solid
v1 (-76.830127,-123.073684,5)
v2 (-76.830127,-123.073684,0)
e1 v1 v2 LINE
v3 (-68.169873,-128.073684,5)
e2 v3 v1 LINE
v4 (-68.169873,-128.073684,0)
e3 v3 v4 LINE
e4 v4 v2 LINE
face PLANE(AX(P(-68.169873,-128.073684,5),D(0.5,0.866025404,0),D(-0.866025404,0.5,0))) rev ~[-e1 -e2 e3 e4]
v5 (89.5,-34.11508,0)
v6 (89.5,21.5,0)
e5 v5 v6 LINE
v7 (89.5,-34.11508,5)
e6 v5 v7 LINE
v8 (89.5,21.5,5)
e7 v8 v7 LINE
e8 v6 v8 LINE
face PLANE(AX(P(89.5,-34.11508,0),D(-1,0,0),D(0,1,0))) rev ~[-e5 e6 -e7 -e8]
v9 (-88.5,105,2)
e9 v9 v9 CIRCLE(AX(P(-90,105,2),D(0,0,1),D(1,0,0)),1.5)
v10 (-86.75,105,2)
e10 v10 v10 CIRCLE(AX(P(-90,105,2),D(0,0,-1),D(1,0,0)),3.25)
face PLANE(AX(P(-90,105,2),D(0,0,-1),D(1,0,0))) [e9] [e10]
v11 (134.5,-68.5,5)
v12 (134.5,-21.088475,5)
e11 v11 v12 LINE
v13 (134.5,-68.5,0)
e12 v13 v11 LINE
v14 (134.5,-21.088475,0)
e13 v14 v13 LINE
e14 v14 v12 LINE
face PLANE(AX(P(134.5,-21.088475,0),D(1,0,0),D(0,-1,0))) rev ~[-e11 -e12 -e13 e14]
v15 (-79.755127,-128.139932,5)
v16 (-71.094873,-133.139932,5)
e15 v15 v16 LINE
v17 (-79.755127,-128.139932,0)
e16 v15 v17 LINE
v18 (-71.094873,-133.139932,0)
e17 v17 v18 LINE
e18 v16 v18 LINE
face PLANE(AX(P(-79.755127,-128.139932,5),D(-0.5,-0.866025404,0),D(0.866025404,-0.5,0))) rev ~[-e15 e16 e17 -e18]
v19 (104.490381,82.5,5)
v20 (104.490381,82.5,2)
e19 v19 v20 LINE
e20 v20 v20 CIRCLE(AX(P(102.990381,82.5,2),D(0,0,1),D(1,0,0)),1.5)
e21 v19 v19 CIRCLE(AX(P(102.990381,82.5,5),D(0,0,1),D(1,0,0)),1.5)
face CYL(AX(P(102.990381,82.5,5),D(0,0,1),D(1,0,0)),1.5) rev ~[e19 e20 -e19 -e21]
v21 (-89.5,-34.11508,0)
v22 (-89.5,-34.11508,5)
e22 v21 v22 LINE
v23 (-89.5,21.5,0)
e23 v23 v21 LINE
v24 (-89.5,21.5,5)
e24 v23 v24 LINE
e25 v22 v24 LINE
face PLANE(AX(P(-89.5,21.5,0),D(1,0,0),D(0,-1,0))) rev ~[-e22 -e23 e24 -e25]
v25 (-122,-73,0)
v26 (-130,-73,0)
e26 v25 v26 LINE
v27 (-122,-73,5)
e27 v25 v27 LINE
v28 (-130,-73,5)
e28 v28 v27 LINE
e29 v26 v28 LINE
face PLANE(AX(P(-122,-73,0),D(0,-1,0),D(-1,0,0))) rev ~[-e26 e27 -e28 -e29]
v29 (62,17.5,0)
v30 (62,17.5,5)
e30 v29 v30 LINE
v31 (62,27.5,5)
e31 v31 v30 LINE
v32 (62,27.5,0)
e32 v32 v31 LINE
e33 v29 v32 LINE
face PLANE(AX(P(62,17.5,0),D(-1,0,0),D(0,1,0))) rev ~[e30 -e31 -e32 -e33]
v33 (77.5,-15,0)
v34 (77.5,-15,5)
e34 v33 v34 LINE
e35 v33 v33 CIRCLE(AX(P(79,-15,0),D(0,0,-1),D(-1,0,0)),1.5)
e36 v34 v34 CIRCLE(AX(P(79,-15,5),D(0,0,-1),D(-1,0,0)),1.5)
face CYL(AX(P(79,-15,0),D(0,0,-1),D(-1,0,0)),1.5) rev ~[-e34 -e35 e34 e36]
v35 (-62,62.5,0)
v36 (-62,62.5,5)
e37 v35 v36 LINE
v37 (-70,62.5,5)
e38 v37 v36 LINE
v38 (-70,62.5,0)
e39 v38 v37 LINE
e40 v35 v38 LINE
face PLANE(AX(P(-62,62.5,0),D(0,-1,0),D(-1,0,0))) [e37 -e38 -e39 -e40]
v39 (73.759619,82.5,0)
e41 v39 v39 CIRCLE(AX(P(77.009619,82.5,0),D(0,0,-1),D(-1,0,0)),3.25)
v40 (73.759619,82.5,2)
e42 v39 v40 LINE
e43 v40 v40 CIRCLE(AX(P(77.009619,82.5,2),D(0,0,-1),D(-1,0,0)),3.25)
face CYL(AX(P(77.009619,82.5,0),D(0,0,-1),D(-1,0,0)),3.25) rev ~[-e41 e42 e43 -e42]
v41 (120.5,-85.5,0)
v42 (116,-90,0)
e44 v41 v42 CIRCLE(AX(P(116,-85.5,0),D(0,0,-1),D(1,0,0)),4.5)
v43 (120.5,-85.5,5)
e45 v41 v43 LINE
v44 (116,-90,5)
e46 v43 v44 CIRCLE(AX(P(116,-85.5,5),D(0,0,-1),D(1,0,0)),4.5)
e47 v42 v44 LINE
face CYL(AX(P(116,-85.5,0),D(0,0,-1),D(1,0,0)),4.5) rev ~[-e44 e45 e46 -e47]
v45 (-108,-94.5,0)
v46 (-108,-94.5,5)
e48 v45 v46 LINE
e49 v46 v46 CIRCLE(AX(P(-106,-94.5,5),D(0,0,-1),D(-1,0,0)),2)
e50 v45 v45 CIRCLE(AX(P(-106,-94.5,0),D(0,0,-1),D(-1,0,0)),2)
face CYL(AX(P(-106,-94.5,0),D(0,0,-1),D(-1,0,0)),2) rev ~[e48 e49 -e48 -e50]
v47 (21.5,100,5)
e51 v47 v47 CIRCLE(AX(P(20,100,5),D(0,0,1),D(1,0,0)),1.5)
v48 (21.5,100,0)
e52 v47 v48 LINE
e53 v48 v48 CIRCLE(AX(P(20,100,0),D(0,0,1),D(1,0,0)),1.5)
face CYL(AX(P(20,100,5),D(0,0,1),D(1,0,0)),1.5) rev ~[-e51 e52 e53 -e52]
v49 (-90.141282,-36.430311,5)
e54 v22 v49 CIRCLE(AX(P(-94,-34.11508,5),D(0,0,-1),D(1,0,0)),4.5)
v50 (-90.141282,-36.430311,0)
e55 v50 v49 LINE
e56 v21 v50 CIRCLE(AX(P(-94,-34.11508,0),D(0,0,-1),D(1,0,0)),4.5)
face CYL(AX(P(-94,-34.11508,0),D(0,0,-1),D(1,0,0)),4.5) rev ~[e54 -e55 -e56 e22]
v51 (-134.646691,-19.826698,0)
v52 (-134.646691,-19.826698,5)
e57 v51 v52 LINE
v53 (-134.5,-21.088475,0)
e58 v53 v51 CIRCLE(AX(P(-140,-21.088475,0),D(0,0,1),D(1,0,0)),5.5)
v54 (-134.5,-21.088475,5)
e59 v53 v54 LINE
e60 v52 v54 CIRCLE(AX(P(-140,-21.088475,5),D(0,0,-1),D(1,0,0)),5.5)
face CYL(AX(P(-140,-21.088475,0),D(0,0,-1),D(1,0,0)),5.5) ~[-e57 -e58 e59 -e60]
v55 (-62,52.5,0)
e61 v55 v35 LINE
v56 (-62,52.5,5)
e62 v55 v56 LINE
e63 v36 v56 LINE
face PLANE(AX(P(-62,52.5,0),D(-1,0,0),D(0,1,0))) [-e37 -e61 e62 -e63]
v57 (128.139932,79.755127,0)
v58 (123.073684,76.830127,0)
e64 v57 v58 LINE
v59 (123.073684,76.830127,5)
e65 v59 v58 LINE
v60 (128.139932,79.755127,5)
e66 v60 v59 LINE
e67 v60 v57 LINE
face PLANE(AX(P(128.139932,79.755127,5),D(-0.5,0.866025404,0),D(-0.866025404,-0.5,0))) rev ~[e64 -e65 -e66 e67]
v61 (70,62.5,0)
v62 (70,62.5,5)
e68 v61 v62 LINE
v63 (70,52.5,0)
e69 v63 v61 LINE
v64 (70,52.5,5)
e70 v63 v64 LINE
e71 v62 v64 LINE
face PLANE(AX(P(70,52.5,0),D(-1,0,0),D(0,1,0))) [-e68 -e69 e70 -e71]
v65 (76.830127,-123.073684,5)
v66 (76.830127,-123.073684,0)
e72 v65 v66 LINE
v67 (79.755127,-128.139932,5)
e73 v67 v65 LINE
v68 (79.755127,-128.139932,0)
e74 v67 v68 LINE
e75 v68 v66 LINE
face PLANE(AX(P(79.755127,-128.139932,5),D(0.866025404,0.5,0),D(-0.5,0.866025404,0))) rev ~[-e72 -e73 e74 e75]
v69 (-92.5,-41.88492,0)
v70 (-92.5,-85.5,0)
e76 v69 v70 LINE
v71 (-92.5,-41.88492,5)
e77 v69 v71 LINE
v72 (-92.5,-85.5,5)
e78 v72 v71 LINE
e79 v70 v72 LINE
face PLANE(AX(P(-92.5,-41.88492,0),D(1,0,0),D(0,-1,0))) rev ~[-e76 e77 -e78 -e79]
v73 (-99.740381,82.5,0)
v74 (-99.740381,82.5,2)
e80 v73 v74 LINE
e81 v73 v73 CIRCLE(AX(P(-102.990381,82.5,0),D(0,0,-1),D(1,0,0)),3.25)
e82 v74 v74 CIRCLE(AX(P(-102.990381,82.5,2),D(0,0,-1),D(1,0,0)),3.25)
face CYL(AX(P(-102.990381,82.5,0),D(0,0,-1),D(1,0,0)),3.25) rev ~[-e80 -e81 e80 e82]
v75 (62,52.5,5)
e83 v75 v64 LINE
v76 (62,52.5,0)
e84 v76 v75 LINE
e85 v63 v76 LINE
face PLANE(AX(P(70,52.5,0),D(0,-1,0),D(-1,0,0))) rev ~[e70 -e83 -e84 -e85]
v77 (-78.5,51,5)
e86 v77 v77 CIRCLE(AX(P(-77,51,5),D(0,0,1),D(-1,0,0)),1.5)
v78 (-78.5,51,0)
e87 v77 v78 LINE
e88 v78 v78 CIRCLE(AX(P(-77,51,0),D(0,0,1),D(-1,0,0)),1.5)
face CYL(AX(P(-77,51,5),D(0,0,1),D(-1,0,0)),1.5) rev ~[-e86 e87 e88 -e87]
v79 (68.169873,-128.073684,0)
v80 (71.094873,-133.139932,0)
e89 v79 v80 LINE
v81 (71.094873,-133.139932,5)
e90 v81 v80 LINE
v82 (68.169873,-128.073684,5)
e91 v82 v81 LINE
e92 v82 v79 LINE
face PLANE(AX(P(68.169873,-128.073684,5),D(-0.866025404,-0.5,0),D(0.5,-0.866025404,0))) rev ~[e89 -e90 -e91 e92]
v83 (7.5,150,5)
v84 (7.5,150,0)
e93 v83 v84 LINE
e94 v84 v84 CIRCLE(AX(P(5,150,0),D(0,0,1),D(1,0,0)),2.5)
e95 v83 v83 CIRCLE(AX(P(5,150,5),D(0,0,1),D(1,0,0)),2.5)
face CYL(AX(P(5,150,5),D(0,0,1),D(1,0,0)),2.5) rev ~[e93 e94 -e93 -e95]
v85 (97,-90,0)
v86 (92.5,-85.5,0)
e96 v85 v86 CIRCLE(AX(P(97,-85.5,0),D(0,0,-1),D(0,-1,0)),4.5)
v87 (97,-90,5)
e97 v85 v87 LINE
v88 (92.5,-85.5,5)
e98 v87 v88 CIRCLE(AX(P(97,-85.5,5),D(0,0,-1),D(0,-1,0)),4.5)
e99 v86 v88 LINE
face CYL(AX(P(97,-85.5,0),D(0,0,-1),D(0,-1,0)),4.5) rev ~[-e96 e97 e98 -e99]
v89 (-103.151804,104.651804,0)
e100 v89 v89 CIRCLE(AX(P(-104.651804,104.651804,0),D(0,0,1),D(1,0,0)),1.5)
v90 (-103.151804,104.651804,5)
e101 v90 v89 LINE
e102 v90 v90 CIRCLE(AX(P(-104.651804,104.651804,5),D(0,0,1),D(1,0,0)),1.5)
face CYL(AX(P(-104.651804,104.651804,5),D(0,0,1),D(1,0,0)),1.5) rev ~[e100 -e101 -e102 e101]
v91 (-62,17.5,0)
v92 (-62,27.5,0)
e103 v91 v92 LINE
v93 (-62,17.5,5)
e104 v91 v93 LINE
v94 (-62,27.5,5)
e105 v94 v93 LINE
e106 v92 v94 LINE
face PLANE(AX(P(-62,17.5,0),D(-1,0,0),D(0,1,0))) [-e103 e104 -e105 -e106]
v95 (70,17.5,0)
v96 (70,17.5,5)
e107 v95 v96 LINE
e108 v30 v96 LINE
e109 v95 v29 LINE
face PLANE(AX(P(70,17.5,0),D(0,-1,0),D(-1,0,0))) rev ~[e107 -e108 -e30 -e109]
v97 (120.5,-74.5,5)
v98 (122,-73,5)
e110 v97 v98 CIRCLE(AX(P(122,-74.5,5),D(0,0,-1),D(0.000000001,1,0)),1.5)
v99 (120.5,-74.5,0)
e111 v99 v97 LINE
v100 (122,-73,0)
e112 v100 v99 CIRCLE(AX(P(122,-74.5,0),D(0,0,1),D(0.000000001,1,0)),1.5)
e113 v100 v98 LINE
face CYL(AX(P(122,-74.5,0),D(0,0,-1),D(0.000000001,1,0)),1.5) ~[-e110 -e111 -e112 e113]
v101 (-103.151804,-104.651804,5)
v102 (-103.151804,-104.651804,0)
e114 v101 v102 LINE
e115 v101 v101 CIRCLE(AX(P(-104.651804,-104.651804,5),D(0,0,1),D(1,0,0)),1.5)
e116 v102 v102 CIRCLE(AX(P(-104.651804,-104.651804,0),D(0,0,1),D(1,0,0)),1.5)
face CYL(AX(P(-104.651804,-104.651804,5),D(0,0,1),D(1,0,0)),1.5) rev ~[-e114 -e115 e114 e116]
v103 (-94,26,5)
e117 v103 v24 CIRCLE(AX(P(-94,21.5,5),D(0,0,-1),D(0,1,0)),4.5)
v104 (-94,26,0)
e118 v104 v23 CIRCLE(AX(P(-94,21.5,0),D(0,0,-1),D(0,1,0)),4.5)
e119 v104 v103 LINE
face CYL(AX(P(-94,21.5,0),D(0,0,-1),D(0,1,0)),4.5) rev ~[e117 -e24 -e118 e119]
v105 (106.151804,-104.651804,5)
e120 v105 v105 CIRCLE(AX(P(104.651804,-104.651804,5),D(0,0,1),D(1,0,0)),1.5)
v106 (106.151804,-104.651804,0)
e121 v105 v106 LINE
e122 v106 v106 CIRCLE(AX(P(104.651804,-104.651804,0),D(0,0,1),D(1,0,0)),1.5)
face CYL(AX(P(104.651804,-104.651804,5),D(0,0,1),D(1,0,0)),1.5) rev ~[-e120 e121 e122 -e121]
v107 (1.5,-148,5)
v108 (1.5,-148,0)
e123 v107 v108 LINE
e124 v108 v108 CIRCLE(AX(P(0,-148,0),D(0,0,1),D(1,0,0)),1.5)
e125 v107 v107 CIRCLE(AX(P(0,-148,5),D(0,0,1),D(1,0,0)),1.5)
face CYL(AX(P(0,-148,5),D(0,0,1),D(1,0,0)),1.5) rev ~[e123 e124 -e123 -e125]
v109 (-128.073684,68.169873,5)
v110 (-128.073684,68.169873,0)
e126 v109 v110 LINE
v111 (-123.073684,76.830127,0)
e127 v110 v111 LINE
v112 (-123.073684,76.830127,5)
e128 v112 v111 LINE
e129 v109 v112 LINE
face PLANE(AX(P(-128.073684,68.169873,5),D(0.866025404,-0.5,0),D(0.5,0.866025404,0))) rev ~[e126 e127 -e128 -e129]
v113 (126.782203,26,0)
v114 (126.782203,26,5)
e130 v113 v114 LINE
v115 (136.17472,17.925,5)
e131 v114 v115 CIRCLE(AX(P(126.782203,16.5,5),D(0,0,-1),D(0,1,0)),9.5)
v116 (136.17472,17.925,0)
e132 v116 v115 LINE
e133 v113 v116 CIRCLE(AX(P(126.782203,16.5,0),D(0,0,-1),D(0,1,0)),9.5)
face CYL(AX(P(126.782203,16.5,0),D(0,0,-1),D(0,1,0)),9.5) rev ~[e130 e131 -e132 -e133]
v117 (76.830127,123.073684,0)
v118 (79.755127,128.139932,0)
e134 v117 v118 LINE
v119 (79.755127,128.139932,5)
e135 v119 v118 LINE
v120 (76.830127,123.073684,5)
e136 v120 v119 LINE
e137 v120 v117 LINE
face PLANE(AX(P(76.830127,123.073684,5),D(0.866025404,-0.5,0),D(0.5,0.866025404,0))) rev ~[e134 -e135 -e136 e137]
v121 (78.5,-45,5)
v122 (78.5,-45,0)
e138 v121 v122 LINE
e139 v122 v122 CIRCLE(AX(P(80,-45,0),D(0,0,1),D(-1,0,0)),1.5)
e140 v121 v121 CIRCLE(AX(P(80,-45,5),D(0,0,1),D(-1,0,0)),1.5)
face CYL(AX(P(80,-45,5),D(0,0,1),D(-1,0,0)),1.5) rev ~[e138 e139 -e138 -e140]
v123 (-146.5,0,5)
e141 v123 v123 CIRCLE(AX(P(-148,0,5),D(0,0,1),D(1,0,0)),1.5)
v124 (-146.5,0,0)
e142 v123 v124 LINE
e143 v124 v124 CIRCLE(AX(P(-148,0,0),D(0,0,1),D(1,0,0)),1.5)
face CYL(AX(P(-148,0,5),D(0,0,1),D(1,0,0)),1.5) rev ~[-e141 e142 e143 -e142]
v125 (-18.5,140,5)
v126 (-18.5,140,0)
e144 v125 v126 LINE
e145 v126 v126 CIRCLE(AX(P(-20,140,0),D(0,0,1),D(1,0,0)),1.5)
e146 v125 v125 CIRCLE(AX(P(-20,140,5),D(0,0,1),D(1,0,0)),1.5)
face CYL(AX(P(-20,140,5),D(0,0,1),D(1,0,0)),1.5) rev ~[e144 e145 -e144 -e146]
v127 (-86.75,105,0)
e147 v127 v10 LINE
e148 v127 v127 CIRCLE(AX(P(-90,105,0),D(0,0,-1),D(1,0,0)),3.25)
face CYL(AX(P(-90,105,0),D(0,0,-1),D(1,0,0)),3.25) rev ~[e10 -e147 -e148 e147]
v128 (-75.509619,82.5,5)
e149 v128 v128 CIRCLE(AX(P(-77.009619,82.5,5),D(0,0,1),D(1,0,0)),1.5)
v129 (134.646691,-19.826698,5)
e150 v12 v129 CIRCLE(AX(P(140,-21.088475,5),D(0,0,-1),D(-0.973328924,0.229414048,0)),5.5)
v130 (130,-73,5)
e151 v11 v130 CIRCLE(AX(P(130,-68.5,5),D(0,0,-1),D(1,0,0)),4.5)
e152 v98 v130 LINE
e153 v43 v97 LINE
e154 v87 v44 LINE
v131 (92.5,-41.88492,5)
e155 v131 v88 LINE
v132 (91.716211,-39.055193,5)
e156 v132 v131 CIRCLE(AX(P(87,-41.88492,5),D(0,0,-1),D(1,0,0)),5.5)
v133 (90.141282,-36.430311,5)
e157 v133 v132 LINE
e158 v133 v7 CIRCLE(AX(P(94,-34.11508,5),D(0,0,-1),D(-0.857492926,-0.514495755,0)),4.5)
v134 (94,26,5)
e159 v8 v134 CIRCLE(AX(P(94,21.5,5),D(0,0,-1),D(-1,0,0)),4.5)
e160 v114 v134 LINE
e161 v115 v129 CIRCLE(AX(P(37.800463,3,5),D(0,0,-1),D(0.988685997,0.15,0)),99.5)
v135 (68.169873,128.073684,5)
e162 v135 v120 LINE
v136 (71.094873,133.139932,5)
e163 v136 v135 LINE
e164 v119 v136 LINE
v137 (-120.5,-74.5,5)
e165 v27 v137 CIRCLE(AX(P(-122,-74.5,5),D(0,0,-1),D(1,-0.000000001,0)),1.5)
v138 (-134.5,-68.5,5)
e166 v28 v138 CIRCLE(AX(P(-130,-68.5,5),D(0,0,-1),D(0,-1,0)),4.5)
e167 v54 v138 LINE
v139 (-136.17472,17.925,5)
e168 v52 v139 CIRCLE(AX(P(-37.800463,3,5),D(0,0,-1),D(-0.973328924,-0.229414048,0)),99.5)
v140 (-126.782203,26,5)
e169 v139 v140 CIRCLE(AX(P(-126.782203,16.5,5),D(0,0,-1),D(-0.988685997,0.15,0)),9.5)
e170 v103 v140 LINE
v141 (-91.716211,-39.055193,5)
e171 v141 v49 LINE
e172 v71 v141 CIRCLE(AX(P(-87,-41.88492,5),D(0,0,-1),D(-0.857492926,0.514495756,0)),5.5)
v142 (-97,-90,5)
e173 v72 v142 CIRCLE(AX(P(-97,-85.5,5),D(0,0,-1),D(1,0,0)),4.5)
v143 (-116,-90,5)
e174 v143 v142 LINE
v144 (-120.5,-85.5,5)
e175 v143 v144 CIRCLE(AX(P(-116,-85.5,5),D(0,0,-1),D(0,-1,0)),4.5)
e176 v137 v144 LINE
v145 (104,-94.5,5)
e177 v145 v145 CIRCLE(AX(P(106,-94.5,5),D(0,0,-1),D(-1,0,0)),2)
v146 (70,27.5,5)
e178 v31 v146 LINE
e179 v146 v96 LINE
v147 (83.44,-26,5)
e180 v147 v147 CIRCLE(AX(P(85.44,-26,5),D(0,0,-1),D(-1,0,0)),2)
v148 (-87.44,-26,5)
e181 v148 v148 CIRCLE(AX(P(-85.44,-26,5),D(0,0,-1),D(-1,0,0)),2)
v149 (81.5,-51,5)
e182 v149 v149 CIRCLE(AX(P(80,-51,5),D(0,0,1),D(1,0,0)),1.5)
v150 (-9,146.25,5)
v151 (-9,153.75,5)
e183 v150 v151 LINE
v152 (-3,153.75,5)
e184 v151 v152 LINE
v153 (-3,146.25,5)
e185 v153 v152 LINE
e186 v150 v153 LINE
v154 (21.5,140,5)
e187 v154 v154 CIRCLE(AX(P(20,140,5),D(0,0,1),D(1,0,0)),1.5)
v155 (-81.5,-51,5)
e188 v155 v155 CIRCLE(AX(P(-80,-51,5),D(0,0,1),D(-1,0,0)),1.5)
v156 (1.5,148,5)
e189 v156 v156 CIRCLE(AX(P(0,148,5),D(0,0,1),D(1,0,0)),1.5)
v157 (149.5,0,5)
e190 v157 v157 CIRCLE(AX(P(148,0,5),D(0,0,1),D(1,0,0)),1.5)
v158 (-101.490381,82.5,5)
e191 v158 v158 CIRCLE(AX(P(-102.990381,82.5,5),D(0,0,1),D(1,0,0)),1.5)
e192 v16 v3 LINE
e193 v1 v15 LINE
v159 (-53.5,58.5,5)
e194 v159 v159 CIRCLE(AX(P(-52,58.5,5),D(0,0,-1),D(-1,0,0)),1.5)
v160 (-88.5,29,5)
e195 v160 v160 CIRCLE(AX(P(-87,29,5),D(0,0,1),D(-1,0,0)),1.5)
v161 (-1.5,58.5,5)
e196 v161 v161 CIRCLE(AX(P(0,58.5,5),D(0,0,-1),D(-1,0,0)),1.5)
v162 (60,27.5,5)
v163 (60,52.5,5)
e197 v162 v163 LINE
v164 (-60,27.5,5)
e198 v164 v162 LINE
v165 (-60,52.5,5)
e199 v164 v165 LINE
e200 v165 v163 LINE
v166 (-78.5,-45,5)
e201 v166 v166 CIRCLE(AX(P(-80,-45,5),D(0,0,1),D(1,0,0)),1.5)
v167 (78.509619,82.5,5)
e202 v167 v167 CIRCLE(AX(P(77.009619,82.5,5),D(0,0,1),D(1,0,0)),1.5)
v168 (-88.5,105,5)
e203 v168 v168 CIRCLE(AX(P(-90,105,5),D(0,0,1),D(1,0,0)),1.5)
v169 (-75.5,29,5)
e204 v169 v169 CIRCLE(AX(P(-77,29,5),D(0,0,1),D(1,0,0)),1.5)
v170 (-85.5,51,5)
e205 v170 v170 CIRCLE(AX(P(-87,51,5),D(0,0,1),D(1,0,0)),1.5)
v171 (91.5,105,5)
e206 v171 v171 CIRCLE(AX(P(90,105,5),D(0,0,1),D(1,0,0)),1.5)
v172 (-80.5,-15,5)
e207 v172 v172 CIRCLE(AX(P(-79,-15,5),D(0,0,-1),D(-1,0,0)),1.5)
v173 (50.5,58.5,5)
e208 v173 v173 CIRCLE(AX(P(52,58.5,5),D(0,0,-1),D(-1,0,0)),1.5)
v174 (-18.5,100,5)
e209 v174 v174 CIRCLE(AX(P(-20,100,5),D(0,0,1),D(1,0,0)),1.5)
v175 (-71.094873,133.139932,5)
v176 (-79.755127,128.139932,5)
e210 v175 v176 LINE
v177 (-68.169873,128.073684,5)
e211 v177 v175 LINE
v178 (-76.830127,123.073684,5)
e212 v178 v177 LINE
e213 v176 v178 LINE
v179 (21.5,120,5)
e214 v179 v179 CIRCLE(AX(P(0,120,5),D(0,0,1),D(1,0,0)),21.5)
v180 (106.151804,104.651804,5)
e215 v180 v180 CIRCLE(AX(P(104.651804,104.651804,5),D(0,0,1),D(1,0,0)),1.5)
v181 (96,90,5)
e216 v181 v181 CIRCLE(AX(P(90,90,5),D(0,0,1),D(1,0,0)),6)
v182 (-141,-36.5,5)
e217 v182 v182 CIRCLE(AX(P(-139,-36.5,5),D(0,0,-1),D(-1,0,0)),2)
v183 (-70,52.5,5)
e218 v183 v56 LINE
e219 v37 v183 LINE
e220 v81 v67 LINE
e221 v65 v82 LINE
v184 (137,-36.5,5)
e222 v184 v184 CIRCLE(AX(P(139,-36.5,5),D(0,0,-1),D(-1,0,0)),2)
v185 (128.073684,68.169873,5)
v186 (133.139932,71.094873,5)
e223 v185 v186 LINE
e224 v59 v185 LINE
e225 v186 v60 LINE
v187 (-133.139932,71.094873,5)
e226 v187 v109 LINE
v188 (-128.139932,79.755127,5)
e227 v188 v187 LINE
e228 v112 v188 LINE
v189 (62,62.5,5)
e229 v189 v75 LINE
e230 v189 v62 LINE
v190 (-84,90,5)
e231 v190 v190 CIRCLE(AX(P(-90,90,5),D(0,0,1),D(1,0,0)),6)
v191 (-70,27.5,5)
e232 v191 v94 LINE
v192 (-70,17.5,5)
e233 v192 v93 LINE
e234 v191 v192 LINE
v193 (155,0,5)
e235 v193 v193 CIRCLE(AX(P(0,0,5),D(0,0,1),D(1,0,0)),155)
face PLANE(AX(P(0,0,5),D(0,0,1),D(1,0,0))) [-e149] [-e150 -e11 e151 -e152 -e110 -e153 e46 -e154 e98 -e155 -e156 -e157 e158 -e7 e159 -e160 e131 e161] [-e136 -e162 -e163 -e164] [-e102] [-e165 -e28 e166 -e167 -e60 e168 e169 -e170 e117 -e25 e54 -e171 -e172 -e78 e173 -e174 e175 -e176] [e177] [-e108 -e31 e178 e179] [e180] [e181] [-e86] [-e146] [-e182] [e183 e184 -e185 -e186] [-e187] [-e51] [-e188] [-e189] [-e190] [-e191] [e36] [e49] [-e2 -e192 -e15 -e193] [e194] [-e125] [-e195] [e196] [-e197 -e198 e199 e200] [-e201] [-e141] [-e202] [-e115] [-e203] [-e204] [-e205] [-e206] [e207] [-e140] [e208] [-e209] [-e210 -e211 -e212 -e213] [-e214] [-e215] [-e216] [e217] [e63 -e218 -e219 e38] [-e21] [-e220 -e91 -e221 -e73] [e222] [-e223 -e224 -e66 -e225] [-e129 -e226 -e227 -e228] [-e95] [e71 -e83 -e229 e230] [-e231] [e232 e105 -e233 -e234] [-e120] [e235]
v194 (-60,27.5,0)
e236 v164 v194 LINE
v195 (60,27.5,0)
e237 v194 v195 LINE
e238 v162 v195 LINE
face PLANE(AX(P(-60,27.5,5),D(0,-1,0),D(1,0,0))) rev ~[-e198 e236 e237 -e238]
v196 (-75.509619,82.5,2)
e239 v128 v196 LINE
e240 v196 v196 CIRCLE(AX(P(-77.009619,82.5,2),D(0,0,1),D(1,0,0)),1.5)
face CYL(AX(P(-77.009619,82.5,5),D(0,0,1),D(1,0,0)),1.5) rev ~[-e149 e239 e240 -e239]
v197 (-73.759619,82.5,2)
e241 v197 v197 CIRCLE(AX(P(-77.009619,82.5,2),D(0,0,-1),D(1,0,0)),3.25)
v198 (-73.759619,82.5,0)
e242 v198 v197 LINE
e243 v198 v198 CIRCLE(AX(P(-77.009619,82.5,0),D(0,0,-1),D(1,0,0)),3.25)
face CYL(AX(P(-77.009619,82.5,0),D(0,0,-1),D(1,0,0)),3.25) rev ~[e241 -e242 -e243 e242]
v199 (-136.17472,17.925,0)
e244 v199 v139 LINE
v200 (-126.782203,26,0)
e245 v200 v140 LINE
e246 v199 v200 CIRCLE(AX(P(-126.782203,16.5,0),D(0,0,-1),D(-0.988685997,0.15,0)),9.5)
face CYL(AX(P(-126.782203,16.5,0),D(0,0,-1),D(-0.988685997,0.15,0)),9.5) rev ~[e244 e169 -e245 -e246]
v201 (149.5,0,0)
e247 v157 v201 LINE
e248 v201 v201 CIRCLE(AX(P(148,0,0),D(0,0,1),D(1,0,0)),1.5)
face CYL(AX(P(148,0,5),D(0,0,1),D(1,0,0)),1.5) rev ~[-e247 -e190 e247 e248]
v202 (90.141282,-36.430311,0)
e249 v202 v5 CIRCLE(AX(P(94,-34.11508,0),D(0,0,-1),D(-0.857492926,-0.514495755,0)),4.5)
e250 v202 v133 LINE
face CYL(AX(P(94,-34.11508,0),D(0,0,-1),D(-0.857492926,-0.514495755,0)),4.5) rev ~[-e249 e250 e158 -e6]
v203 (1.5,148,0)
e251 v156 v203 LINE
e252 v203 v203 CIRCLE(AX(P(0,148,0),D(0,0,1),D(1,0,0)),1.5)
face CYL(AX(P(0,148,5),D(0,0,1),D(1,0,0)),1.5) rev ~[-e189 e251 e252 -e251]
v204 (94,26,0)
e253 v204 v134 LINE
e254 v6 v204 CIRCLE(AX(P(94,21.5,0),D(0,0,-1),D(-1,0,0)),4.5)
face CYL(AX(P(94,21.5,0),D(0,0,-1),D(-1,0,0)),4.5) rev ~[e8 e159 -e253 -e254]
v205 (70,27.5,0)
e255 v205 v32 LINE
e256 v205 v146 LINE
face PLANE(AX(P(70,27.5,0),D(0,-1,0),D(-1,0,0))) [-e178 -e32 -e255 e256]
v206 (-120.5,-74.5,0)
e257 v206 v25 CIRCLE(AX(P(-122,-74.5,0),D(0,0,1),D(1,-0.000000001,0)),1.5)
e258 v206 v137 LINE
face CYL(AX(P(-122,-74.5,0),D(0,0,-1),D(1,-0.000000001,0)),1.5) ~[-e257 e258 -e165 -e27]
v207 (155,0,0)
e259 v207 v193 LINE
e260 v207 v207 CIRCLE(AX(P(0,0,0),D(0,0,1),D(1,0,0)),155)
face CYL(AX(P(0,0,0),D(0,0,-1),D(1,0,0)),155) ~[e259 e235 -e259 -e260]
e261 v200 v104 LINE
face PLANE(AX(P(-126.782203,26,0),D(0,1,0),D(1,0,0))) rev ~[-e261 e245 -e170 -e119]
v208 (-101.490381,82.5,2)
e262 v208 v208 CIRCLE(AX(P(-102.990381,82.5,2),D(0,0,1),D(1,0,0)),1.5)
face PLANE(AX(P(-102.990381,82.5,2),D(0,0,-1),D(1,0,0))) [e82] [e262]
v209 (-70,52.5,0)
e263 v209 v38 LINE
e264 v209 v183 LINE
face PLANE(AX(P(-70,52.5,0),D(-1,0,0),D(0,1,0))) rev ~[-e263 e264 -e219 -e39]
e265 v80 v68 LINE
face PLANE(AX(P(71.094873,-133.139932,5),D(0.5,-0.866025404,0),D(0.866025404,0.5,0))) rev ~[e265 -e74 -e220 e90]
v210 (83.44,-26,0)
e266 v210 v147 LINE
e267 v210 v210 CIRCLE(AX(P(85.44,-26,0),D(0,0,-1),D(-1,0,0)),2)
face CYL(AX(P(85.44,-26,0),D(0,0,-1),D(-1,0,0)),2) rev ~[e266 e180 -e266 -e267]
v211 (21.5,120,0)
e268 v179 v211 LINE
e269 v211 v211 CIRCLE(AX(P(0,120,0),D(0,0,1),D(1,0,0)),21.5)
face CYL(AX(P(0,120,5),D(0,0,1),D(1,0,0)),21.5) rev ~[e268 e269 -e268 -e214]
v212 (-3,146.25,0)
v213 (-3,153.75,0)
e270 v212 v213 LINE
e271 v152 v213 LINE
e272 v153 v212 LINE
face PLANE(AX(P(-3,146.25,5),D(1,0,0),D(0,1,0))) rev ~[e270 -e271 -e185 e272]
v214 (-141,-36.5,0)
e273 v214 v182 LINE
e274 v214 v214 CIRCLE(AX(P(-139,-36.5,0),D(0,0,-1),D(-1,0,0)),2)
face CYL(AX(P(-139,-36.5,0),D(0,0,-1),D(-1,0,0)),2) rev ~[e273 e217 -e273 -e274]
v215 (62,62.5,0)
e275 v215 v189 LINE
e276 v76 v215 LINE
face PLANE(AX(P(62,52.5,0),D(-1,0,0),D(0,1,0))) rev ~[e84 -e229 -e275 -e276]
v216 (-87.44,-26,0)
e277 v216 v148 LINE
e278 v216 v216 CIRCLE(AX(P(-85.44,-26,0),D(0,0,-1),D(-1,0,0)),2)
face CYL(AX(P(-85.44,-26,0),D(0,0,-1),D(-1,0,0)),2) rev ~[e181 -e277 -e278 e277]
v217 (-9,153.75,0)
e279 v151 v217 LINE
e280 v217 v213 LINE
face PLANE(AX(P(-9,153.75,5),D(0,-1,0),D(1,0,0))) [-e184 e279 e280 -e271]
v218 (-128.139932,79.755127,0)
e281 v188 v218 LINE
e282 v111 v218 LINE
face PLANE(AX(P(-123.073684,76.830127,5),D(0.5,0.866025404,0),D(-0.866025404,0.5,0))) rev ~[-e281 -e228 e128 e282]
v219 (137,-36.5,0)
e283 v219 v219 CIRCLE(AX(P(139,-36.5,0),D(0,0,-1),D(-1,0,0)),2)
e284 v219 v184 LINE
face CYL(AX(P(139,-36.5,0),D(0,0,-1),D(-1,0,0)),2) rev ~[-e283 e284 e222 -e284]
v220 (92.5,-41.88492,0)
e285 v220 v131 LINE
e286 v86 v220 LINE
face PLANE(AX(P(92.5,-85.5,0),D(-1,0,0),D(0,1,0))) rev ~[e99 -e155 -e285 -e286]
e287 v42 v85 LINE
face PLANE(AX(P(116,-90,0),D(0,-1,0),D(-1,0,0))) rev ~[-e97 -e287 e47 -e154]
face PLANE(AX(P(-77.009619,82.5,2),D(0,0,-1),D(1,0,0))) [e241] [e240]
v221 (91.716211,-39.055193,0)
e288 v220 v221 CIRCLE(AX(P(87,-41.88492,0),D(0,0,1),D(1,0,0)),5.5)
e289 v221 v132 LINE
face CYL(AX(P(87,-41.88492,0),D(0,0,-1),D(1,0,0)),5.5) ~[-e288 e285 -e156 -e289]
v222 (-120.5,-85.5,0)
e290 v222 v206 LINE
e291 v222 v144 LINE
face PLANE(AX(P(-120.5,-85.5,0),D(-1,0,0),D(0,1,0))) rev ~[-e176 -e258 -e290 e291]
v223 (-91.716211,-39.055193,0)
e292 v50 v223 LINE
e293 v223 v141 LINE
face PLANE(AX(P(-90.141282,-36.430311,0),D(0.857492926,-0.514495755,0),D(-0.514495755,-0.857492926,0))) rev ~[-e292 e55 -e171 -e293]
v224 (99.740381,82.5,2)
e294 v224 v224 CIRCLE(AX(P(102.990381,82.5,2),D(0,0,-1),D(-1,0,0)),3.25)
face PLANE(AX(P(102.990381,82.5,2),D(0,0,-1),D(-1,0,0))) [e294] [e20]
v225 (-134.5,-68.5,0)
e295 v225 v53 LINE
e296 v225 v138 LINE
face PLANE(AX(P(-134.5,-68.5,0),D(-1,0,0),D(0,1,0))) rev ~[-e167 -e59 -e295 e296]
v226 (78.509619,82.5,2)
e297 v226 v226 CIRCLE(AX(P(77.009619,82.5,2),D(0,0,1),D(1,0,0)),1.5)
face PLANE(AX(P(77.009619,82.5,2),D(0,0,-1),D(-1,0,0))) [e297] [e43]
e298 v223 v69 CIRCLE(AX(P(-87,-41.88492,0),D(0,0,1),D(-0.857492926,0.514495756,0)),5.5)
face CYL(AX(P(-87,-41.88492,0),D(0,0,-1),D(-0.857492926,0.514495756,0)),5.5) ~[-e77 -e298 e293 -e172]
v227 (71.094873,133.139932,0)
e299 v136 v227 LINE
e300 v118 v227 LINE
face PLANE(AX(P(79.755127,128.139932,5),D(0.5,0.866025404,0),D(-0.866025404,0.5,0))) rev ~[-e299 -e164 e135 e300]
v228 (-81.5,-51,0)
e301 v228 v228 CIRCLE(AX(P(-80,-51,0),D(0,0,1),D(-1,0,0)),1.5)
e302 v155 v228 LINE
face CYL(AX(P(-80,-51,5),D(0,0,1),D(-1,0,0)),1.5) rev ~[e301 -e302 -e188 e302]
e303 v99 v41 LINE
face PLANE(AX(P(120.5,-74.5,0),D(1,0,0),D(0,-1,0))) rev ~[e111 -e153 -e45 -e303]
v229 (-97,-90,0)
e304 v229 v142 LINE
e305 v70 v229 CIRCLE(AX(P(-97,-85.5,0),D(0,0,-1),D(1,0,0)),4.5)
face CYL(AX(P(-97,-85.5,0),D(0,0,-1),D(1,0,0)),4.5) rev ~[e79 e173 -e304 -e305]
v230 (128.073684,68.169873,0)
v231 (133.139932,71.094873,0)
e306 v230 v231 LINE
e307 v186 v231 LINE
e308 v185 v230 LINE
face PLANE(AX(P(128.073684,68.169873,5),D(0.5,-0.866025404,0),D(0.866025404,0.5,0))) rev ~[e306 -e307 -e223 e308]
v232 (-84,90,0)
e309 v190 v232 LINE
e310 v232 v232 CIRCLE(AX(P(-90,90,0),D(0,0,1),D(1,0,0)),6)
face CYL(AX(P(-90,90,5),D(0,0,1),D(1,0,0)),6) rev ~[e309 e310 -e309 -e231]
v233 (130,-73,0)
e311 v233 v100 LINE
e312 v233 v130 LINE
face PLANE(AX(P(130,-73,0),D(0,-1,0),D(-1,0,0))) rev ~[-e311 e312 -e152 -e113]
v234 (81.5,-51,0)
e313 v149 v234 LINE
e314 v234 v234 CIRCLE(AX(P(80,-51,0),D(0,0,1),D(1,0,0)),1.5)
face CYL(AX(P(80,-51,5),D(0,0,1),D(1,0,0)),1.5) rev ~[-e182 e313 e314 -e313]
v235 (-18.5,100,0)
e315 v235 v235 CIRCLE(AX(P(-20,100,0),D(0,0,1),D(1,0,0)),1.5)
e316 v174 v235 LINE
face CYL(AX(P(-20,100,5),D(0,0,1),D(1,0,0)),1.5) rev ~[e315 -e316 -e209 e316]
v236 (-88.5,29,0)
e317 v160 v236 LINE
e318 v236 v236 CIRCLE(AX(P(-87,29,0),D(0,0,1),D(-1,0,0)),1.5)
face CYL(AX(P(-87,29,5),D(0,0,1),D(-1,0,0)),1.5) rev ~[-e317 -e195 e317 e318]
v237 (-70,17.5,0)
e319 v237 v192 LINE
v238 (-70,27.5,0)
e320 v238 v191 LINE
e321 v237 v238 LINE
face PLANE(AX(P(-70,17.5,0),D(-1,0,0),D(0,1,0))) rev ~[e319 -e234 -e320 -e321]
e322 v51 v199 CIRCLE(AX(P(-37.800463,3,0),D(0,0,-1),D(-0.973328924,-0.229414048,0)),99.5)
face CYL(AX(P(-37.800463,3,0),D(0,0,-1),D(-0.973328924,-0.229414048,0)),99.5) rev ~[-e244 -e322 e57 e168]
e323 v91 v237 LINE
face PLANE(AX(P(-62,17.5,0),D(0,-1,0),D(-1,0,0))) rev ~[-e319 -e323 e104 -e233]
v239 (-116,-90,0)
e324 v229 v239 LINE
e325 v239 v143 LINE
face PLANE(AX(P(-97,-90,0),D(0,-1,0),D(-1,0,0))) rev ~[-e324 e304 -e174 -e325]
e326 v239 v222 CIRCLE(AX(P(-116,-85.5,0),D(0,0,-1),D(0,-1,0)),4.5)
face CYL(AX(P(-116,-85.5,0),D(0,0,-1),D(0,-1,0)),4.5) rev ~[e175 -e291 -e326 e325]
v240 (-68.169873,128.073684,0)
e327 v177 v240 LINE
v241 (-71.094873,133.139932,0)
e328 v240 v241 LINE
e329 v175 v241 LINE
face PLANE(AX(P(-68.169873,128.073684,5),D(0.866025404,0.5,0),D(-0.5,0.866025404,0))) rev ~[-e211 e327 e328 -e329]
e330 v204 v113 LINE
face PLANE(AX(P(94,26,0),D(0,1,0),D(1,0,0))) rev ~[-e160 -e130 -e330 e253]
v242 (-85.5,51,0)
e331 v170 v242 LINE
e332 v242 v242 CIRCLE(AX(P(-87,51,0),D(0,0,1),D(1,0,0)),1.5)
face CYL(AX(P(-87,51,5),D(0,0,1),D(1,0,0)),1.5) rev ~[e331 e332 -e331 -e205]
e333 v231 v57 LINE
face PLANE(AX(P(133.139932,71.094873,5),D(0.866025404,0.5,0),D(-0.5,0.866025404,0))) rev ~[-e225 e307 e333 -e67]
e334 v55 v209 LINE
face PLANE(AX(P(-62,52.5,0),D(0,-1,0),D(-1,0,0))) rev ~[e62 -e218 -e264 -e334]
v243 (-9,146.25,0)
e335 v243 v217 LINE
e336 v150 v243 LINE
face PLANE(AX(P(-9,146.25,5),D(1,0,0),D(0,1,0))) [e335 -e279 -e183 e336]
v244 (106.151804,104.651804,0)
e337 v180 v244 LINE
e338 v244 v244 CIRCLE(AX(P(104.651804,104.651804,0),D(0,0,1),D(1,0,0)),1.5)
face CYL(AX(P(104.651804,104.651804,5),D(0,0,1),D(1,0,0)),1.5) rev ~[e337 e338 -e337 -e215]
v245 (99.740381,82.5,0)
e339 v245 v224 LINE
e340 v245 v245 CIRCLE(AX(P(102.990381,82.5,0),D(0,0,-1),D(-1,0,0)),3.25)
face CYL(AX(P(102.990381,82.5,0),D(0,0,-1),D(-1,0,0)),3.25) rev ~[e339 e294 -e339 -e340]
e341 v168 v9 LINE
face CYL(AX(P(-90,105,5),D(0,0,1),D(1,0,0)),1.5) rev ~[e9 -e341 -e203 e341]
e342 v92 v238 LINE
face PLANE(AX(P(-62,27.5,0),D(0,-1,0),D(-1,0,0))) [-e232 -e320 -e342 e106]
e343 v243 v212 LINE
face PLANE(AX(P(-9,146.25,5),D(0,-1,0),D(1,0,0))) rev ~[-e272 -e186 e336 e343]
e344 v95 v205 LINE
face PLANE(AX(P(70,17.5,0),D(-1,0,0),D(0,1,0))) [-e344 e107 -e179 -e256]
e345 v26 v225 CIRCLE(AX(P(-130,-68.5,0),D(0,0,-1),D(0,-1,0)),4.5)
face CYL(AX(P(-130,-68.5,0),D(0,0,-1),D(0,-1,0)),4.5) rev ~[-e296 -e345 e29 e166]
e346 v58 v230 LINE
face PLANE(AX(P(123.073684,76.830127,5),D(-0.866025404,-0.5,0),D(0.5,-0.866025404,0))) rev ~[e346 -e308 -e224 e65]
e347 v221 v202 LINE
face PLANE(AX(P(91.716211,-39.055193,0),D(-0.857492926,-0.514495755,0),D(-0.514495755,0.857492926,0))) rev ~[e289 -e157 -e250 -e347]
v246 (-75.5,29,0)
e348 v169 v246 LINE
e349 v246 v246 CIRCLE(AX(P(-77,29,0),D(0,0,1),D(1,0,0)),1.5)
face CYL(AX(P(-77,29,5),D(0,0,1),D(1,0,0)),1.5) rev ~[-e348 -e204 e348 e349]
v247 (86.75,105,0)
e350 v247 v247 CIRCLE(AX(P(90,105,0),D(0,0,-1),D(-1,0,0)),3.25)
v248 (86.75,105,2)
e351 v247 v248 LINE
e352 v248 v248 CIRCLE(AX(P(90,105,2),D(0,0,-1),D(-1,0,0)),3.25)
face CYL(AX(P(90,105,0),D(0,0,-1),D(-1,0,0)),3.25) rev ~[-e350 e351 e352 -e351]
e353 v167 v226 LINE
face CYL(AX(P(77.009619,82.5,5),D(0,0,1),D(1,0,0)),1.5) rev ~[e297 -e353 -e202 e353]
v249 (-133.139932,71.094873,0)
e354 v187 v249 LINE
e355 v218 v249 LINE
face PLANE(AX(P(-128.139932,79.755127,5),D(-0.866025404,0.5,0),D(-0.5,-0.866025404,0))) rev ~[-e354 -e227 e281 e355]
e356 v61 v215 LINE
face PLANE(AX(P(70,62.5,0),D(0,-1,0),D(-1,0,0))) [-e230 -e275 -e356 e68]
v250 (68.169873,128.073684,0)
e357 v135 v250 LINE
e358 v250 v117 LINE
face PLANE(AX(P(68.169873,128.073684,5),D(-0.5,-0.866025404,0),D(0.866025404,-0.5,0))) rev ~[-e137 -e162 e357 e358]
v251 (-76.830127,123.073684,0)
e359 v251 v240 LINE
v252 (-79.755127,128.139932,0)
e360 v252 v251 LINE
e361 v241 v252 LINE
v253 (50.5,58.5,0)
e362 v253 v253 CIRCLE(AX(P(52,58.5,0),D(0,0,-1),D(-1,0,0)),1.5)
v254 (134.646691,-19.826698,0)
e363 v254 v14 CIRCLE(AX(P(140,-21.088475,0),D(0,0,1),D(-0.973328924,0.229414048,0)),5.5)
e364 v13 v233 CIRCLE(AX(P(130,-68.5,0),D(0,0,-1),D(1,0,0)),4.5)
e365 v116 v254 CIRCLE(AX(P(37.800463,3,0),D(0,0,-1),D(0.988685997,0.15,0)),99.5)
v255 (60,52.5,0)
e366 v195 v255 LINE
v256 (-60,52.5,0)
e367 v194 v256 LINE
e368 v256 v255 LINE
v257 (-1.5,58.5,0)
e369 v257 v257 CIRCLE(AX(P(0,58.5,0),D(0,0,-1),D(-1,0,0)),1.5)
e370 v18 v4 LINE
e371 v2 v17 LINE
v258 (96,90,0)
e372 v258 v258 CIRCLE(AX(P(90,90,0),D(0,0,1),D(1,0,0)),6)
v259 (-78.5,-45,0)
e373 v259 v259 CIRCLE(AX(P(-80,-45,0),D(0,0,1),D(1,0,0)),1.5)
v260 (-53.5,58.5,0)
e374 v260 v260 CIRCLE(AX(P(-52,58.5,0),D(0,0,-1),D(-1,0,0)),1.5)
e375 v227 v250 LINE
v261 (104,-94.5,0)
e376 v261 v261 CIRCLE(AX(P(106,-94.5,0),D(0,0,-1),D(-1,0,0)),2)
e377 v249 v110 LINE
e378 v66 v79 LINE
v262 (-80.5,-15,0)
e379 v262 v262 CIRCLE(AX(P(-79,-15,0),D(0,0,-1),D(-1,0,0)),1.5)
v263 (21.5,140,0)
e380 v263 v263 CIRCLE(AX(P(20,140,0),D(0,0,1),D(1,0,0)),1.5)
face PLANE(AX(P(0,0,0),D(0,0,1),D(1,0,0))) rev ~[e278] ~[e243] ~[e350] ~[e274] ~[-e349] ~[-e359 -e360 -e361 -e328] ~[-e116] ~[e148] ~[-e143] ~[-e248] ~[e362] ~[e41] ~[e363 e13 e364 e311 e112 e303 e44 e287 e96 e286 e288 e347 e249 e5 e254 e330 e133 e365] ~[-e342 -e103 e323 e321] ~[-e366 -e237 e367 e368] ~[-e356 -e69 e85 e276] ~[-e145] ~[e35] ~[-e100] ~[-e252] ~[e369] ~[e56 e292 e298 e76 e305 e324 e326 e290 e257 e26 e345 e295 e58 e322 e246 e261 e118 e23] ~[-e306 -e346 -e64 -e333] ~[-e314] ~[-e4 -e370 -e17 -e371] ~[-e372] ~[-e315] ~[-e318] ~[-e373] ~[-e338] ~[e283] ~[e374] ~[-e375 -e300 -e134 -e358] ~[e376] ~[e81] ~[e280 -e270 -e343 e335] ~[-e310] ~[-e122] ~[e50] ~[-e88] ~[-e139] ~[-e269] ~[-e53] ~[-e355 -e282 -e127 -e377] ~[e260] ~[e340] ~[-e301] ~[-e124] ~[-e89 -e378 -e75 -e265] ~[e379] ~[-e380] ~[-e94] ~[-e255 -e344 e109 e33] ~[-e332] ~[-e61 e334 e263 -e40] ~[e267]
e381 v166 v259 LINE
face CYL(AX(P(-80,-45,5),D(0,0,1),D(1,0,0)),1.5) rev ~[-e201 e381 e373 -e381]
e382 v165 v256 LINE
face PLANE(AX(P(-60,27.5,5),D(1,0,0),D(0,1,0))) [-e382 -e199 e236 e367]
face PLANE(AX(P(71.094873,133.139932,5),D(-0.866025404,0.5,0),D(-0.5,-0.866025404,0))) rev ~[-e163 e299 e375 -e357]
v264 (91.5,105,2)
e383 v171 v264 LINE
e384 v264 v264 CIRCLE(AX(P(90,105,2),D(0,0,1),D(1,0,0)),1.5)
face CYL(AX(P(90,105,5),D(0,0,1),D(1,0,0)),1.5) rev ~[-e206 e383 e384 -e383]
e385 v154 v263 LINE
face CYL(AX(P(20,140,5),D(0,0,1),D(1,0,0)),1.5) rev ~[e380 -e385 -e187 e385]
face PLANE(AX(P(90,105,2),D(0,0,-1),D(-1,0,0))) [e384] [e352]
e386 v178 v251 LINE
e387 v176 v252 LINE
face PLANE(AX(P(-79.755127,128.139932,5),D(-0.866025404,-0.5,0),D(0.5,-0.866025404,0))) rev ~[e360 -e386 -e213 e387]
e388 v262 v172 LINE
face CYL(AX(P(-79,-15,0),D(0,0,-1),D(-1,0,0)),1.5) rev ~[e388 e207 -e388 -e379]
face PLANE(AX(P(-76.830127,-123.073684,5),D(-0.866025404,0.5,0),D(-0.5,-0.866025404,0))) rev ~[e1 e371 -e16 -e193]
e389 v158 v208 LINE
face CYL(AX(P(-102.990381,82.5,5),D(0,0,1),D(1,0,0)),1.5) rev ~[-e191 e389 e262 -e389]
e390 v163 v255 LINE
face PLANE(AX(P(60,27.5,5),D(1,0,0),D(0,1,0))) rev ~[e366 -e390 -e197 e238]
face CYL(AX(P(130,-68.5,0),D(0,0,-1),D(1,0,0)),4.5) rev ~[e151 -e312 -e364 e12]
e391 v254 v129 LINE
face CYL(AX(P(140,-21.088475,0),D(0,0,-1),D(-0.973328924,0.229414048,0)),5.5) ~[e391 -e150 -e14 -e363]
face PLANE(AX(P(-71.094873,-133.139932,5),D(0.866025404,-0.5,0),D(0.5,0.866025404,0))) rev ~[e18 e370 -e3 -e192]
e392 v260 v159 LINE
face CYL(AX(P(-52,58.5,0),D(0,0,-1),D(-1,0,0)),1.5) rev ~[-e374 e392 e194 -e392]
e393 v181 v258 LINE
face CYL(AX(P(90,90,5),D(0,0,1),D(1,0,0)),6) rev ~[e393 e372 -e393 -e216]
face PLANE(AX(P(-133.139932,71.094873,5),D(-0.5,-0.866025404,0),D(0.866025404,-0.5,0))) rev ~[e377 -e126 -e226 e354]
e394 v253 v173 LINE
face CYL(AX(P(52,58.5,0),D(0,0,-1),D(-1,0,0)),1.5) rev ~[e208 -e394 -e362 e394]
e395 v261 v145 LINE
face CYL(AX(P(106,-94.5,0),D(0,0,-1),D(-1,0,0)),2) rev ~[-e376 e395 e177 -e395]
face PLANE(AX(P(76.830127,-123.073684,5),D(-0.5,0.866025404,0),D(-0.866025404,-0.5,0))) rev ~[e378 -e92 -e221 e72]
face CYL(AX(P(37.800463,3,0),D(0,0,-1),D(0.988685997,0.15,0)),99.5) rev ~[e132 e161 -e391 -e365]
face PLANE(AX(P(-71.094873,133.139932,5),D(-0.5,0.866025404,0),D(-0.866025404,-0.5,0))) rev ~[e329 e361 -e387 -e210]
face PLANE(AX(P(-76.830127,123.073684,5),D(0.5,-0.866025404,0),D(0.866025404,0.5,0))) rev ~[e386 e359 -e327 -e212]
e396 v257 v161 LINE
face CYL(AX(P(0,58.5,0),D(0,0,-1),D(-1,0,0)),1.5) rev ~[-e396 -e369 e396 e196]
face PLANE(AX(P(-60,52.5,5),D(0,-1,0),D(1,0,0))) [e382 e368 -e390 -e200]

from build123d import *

# Parameters (mm, degrees)
SKETCH_1_R           = 155
EXTRUDE_1_DEPTH      = 5
SKETCH_3_R           = 6
CUT_EXTRUDE_3_DEPTH  = 10
SKETCH_7_R           = 21.5
CUT_EXTRUDE_7_DEPTH  = 10
SKETCH_8_R           = 1.5
CUT_EXTRUDE_8_DEPTH  = 7
SKETCH_12_R          = 1.5
CUT_EXTRUDE_12_DEPTH = 10
SKETCH_14_R          = 1.5
CUT_EXTRUDE_13_DEPTH = 220.260119493
SKETCH_15_R          = 1.5
SKETCH_15_W          = 120
SKETCH_15_H          = 25
CUT_EXTRUDE_14_DEPTH = 220.260119493
SKETCH_16_R          = 1.5
CUT_EXTRUDE_15_DEPTH = 220.260119493
SKETCH_17_R          = 3.25
CUT_EXTRUDE_16_DEPTH = 2
SKETCH_19_R          = 2
CUT_EXTRUDE_17_DEPTH = 220.260119493
SKETCH_20_R          = 1.5
CUT_EXTRUDE_18_DEPTH = 220.260119493
SKETCH_21_R          = 1.5
SKETCH_21_W          = 8
SKETCH_21_H          = 10
CUT_EXTRUDE_19_DEPTH = 220.260119493
SKETCH_23_R          = 2.5
SKETCH_23_W          = 6
SKETCH_23_H          = 7.5
CUT_EXTRUDE_20_DEPTH = 10


with BuildPart() as part:
    # 草图1 → 凸台-拉伸1 (new body)
    with BuildSketch(Plane.XY):
        Circle(SKETCH_1_R)
    extrude(amount=EXTRUDE_1_DEPTH)

    # 草图3 → 切除-拉伸3 (cut)
    with BuildSketch(Plane.XY.offset(5)):
        with Locations((90, 90)):
            Circle(SKETCH_3_R)
        with Locations((-90, 90)):
            Circle(SKETCH_3_R)
    extrude(amount=-CUT_EXTRUDE_3_DEPTH, mode=Mode.SUBTRACT)

    # 草图7 → 切除-拉伸7 (cut)
    with BuildSketch(Plane.XY.offset(5)):
        with Locations((0, 120)):
            Circle(SKETCH_7_R)
    extrude(amount=-CUT_EXTRUDE_7_DEPTH, mode=Mode.SUBTRACT)

    # 草图8 → 切除-拉伸8 (cut)
    with BuildSketch(Plane.XY.offset(5)):
        with Locations((-20, 140)):
            Circle(SKETCH_8_R)
        with Locations((-20, 100)):
            Circle(SKETCH_8_R)
        with Locations((20, 100)):
            Circle(SKETCH_8_R)
        with Locations((20, 140)):
            Circle(SKETCH_8_R)
    extrude(amount=-CUT_EXTRUDE_8_DEPTH, mode=Mode.SUBTRACT)

    # 草图12 → 切除-拉伸12 (cut)
    with BuildSketch(Plane.XY.offset(5)):
        with Locations((-90, 105)):
            Circle(SKETCH_12_R)
        with Locations((-77.009618943, 82.5)):
            Circle(SKETCH_12_R)
        with Locations((-102.990381057, 82.5)):
            Circle(SKETCH_12_R)
        with Locations((102.990381057, 82.5)):
            Circle(SKETCH_12_R)
        with Locations((77.009618943, 82.5)):
            Circle(SKETCH_12_R)
        with Locations((90, 105)):
            Circle(SKETCH_12_R)
    extrude(amount=-CUT_EXTRUDE_12_DEPTH, mode=Mode.SUBTRACT)

    # 草图14 → 切除-拉伸13 (cut, through all)
    with BuildSketch(Plane.XY.offset(5)):
        with Locations((-80, -45)):
            Circle(SKETCH_14_R)
        with Locations((-80, -51)):
            Circle(SKETCH_14_R)
        with Locations((80, -51)):
            Circle(SKETCH_14_R)
        with Locations((80, -45)):
            Circle(SKETCH_14_R)
    extrude(amount=-CUT_EXTRUDE_13_DEPTH, mode=Mode.SUBTRACT)

    # 草图15 → 切除-拉伸14 (cut, through all)
    with BuildSketch(Plane.XY.offset(5)):
        with Locations((-87, 51)):
            Circle(SKETCH_15_R)
        with Locations((-77, 51)):
            Circle(SKETCH_15_R)
        with Locations((-77, 29)):
            Circle(SKETCH_15_R)
        with Locations((-87, 29)):
            Circle(SKETCH_15_R)
        with Locations((0, 40)):
            Rectangle(SKETCH_15_W, SKETCH_15_H)
    extrude(amount=-CUT_EXTRUDE_14_DEPTH, mode=Mode.SUBTRACT)

    # 草图16 → 切除-拉伸15 (cut, through all)
    with BuildSketch(Plane.XY.offset(5)):
        with Locations((0, 148)):
            Circle(SKETCH_16_R)
        with Locations((104.651803616, 104.651803616)):
            Circle(SKETCH_16_R)
        with Locations((148, 0)):
            Circle(SKETCH_16_R)
        with Locations((104.651803616, -104.651803616)):
            Circle(SKETCH_16_R)
        with Locations((0, -148)):
            Circle(SKETCH_16_R)
        with Locations((-104.651803616, -104.651803616)):
            Circle(SKETCH_16_R)
        with Locations((-148, 0)):
            Circle(SKETCH_16_R)
        with Locations((-104.651803616, 104.651803616)):
            Circle(SKETCH_16_R)
    extrude(amount=-CUT_EXTRUDE_15_DEPTH, mode=Mode.SUBTRACT)

    # 草图17 → 切除-拉伸16 (cut)
    with BuildSketch(Plane(origin=(0, 0, 0), x_dir=(-1, 0, 0), z_dir=(0, 0, -1))):
        with Locations((-90, 105)):
            Circle(SKETCH_17_R)
        with Locations((-77.009618943, 82.5)):
            Circle(SKETCH_17_R)
        with Locations((-102.990381057, 82.5)):
            Circle(SKETCH_17_R)
        with Locations((102.990381057, 82.5)):
            Circle(SKETCH_17_R)
        with Locations((77.009618943, 82.5)):
            Circle(SKETCH_17_R)
        with Locations((90, 105)):
            Circle(SKETCH_17_R)
    extrude(amount=-CUT_EXTRUDE_16_DEPTH, mode=Mode.SUBTRACT)

    # 草图19 → 切除-拉伸17 (cut, through all)
    with BuildSketch(Plane(origin=(0, 0, 0), x_dir=(-1, 0, 0), z_dir=(0, 0, -1))):
        with Locations((-85.44, -26)):
            Circle(SKETCH_19_R)
        with Locations((-139, -36.5)):
            Circle(SKETCH_19_R)
        with Locations((-106, -94.5)):
            Circle(SKETCH_19_R)
        with Locations((106, -94.5)):
            Circle(SKETCH_19_R)
        with Locations((139, -36.5)):
            Circle(SKETCH_19_R)
        with Locations((85.44, -26)):
            Circle(SKETCH_19_R)
        with BuildLine():
            Line((92.5, -41.884919825), (92.5, -85.5))
            ThreePointArc((92.5, -85.5), (93.818019485, -88.681980515), (97, -90))
            Line((97, -90), (116, -90))
            ThreePointArc((116, -90), (119.181980515, -88.681980515), (120.5, -85.5))
            Line((120.5, -85.5), (120.5, -74.5))
            ThreePointArc((120.5, -74.5), (120.939339828, -73.439339828), (122, -73))
            Line((122, -73), (130, -73))
            ThreePointArc((130, -73), (133.181980515, -71.681980515), (134.5, -68.5))
            Line((134.5, -68.5), (134.5, -21.088475038))
            ThreePointArc((134.5, -21.088475038), (134.536795814, -20.45333724), (134.646690917, -19.826697774))
            ThreePointArc((134.646690917, -19.826697774), (137.219058182, -1.024043348), (136.174719632, 17.925))
            ThreePointArc((136.174719632, 17.925), (132.975444949, 23.703731672), (126.782202664, 26))
            Line((126.782202664, 26), (94, 26))
            ThreePointArc((94, 26), (90.818019485, 24.681980515), (89.5, 21.5))
            Line((89.5, 21.5), (89.5, -34.115080175))
            ThreePointArc((89.5, -34.115080175), (89.663282823, -35.316281294), (90.141281834, -36.430311075))
            Line((90.141281834, -36.430311075), (91.716211091, -39.05519317))
            ThreePointArc((91.716211091, -39.05519317), (92.300432105, -40.416785124), (92.5, -41.884919825))
        make_face()
        with BuildLine():
            Line((-91.716211091, -39.05519317), (-90.141281834, -36.430311075))
            ThreePointArc((-90.141281834, -36.430311075), (-89.663282823, -35.316281294), (-89.5, -34.115080175))
            Line((-89.5, -34.115080175), (-89.5, 21.5))
            ThreePointArc((-89.5, 21.5), (-90.818019485, 24.681980515), (-94, 26))
            Line((-94, 26), (-126.782202664, 26))
            ThreePointArc((-126.782202664, 26), (-132.975444949, 23.703731672), (-136.174719632, 17.925))
            ThreePointArc((-136.174719632, 17.925), (-137.219058182, -1.024043348), (-134.646690917, -19.826697774))
            ThreePointArc((-134.646690917, -19.826697774), (-134.536795814, -20.45333724), (-134.5, -21.088475038))
            Line((-134.5, -21.088475038), (-134.5, -68.5))
            ThreePointArc((-134.5, -68.5), (-133.181980515, -71.681980515), (-130, -73))
            Line((-130, -73), (-122, -73))
            ThreePointArc((-122, -73), (-120.939339828, -73.439339828), (-120.5, -74.5))
            Line((-120.5, -74.5), (-120.5, -85.5))
            ThreePointArc((-120.5, -85.5), (-119.181980515, -88.681980515), (-116, -90))
            Line((-116, -90), (-97, -90))
            ThreePointArc((-97, -90), (-93.818019485, -88.681980515), (-92.5, -85.5))
            Line((-92.5, -85.5), (-92.5, -41.884919825))
            ThreePointArc((-92.5, -41.884919825), (-92.300432105, -40.416785124), (-91.716211091, -39.05519317))
        make_face()
    extrude(amount=-CUT_EXTRUDE_17_DEPTH, mode=Mode.SUBTRACT)

    # 草图20 → 切除-拉伸18 (cut, through all)
    with BuildSketch(Plane(origin=(0, 0, 0), x_dir=(-1, 0, 0), z_dir=(0, 0, -1))):
        with Locations((-79, -15)):
            Circle(SKETCH_20_R)
        with Locations((79, -15)):
            Circle(SKETCH_20_R)
    extrude(amount=-CUT_EXTRUDE_18_DEPTH, mode=Mode.SUBTRACT)

    # 草图21 → 切除-拉伸19 (cut, through all)
    with BuildSketch(Plane(origin=(0, 0, 0), x_dir=(-1, 0, 0), z_dir=(0, 0, -1))):
        with Locations((-52, 58.5)):
            Circle(SKETCH_21_R)
        with Locations((0, 58.5)):
            Circle(SKETCH_21_R)
        with Locations((52, 58.5)):
            Circle(SKETCH_21_R)
        with Locations((-66, 57.5)):
            Rectangle(SKETCH_21_W, SKETCH_21_H)
        with Locations((-66, 22.5)):
            Rectangle(SKETCH_21_W, SKETCH_21_H)
        with Locations((66, 22.5)):
            Rectangle(SKETCH_21_W, SKETCH_21_H)
        with Locations((66, 57.5)):
            Rectangle(SKETCH_21_W, SKETCH_21_H)
    extrude(amount=-CUT_EXTRUDE_19_DEPTH, mode=Mode.SUBTRACT)

    # 草图23 → 切除-拉伸20 (cut)
    with BuildSketch(Plane.XY.offset(5)):
        with Locations((5, 150)):
            Circle(SKETCH_23_R)
        Polygon((71.094872981, 133.139932161), (68.169872981, 128.073683549), (76.830127019, 123.073683549), (79.755127019, 128.139932161), align=None)
        Polygon((128.139932161, 79.755127019), (123.073683549, 76.830127019), (128.073683549, 68.169872981), (133.139932161, 71.094872981), align=None)
        with Locations((-6, 150)):
            Rectangle(SKETCH_23_W, SKETCH_23_H)
        Polygon((79.755127019, -128.139932161), (76.830127019, -123.073683549), (68.169872981, -128.073683549), (71.094872981, -133.139932161), align=None)
        Polygon((-71.094872981, -133.139932161), (-68.169872981, -128.073683549), (-76.830127019, -123.073683549), (-79.755127019, -128.139932161), align=None)
        Polygon((-133.139932161, 71.094872981), (-128.073683549, 68.169872981), (-123.073683549, 76.830127019), (-128.139932161, 79.755127019), align=None)
        Polygon((-79.755127019, 128.139932161), (-76.830127019, 123.073683549), (-68.169872981, 128.073683549), (-71.094872981, 133.139932161), align=None)
    extrude(amount=-CUT_EXTRUDE_20_DEPTH, mode=Mode.SUBTRACT)


solid = part.part
